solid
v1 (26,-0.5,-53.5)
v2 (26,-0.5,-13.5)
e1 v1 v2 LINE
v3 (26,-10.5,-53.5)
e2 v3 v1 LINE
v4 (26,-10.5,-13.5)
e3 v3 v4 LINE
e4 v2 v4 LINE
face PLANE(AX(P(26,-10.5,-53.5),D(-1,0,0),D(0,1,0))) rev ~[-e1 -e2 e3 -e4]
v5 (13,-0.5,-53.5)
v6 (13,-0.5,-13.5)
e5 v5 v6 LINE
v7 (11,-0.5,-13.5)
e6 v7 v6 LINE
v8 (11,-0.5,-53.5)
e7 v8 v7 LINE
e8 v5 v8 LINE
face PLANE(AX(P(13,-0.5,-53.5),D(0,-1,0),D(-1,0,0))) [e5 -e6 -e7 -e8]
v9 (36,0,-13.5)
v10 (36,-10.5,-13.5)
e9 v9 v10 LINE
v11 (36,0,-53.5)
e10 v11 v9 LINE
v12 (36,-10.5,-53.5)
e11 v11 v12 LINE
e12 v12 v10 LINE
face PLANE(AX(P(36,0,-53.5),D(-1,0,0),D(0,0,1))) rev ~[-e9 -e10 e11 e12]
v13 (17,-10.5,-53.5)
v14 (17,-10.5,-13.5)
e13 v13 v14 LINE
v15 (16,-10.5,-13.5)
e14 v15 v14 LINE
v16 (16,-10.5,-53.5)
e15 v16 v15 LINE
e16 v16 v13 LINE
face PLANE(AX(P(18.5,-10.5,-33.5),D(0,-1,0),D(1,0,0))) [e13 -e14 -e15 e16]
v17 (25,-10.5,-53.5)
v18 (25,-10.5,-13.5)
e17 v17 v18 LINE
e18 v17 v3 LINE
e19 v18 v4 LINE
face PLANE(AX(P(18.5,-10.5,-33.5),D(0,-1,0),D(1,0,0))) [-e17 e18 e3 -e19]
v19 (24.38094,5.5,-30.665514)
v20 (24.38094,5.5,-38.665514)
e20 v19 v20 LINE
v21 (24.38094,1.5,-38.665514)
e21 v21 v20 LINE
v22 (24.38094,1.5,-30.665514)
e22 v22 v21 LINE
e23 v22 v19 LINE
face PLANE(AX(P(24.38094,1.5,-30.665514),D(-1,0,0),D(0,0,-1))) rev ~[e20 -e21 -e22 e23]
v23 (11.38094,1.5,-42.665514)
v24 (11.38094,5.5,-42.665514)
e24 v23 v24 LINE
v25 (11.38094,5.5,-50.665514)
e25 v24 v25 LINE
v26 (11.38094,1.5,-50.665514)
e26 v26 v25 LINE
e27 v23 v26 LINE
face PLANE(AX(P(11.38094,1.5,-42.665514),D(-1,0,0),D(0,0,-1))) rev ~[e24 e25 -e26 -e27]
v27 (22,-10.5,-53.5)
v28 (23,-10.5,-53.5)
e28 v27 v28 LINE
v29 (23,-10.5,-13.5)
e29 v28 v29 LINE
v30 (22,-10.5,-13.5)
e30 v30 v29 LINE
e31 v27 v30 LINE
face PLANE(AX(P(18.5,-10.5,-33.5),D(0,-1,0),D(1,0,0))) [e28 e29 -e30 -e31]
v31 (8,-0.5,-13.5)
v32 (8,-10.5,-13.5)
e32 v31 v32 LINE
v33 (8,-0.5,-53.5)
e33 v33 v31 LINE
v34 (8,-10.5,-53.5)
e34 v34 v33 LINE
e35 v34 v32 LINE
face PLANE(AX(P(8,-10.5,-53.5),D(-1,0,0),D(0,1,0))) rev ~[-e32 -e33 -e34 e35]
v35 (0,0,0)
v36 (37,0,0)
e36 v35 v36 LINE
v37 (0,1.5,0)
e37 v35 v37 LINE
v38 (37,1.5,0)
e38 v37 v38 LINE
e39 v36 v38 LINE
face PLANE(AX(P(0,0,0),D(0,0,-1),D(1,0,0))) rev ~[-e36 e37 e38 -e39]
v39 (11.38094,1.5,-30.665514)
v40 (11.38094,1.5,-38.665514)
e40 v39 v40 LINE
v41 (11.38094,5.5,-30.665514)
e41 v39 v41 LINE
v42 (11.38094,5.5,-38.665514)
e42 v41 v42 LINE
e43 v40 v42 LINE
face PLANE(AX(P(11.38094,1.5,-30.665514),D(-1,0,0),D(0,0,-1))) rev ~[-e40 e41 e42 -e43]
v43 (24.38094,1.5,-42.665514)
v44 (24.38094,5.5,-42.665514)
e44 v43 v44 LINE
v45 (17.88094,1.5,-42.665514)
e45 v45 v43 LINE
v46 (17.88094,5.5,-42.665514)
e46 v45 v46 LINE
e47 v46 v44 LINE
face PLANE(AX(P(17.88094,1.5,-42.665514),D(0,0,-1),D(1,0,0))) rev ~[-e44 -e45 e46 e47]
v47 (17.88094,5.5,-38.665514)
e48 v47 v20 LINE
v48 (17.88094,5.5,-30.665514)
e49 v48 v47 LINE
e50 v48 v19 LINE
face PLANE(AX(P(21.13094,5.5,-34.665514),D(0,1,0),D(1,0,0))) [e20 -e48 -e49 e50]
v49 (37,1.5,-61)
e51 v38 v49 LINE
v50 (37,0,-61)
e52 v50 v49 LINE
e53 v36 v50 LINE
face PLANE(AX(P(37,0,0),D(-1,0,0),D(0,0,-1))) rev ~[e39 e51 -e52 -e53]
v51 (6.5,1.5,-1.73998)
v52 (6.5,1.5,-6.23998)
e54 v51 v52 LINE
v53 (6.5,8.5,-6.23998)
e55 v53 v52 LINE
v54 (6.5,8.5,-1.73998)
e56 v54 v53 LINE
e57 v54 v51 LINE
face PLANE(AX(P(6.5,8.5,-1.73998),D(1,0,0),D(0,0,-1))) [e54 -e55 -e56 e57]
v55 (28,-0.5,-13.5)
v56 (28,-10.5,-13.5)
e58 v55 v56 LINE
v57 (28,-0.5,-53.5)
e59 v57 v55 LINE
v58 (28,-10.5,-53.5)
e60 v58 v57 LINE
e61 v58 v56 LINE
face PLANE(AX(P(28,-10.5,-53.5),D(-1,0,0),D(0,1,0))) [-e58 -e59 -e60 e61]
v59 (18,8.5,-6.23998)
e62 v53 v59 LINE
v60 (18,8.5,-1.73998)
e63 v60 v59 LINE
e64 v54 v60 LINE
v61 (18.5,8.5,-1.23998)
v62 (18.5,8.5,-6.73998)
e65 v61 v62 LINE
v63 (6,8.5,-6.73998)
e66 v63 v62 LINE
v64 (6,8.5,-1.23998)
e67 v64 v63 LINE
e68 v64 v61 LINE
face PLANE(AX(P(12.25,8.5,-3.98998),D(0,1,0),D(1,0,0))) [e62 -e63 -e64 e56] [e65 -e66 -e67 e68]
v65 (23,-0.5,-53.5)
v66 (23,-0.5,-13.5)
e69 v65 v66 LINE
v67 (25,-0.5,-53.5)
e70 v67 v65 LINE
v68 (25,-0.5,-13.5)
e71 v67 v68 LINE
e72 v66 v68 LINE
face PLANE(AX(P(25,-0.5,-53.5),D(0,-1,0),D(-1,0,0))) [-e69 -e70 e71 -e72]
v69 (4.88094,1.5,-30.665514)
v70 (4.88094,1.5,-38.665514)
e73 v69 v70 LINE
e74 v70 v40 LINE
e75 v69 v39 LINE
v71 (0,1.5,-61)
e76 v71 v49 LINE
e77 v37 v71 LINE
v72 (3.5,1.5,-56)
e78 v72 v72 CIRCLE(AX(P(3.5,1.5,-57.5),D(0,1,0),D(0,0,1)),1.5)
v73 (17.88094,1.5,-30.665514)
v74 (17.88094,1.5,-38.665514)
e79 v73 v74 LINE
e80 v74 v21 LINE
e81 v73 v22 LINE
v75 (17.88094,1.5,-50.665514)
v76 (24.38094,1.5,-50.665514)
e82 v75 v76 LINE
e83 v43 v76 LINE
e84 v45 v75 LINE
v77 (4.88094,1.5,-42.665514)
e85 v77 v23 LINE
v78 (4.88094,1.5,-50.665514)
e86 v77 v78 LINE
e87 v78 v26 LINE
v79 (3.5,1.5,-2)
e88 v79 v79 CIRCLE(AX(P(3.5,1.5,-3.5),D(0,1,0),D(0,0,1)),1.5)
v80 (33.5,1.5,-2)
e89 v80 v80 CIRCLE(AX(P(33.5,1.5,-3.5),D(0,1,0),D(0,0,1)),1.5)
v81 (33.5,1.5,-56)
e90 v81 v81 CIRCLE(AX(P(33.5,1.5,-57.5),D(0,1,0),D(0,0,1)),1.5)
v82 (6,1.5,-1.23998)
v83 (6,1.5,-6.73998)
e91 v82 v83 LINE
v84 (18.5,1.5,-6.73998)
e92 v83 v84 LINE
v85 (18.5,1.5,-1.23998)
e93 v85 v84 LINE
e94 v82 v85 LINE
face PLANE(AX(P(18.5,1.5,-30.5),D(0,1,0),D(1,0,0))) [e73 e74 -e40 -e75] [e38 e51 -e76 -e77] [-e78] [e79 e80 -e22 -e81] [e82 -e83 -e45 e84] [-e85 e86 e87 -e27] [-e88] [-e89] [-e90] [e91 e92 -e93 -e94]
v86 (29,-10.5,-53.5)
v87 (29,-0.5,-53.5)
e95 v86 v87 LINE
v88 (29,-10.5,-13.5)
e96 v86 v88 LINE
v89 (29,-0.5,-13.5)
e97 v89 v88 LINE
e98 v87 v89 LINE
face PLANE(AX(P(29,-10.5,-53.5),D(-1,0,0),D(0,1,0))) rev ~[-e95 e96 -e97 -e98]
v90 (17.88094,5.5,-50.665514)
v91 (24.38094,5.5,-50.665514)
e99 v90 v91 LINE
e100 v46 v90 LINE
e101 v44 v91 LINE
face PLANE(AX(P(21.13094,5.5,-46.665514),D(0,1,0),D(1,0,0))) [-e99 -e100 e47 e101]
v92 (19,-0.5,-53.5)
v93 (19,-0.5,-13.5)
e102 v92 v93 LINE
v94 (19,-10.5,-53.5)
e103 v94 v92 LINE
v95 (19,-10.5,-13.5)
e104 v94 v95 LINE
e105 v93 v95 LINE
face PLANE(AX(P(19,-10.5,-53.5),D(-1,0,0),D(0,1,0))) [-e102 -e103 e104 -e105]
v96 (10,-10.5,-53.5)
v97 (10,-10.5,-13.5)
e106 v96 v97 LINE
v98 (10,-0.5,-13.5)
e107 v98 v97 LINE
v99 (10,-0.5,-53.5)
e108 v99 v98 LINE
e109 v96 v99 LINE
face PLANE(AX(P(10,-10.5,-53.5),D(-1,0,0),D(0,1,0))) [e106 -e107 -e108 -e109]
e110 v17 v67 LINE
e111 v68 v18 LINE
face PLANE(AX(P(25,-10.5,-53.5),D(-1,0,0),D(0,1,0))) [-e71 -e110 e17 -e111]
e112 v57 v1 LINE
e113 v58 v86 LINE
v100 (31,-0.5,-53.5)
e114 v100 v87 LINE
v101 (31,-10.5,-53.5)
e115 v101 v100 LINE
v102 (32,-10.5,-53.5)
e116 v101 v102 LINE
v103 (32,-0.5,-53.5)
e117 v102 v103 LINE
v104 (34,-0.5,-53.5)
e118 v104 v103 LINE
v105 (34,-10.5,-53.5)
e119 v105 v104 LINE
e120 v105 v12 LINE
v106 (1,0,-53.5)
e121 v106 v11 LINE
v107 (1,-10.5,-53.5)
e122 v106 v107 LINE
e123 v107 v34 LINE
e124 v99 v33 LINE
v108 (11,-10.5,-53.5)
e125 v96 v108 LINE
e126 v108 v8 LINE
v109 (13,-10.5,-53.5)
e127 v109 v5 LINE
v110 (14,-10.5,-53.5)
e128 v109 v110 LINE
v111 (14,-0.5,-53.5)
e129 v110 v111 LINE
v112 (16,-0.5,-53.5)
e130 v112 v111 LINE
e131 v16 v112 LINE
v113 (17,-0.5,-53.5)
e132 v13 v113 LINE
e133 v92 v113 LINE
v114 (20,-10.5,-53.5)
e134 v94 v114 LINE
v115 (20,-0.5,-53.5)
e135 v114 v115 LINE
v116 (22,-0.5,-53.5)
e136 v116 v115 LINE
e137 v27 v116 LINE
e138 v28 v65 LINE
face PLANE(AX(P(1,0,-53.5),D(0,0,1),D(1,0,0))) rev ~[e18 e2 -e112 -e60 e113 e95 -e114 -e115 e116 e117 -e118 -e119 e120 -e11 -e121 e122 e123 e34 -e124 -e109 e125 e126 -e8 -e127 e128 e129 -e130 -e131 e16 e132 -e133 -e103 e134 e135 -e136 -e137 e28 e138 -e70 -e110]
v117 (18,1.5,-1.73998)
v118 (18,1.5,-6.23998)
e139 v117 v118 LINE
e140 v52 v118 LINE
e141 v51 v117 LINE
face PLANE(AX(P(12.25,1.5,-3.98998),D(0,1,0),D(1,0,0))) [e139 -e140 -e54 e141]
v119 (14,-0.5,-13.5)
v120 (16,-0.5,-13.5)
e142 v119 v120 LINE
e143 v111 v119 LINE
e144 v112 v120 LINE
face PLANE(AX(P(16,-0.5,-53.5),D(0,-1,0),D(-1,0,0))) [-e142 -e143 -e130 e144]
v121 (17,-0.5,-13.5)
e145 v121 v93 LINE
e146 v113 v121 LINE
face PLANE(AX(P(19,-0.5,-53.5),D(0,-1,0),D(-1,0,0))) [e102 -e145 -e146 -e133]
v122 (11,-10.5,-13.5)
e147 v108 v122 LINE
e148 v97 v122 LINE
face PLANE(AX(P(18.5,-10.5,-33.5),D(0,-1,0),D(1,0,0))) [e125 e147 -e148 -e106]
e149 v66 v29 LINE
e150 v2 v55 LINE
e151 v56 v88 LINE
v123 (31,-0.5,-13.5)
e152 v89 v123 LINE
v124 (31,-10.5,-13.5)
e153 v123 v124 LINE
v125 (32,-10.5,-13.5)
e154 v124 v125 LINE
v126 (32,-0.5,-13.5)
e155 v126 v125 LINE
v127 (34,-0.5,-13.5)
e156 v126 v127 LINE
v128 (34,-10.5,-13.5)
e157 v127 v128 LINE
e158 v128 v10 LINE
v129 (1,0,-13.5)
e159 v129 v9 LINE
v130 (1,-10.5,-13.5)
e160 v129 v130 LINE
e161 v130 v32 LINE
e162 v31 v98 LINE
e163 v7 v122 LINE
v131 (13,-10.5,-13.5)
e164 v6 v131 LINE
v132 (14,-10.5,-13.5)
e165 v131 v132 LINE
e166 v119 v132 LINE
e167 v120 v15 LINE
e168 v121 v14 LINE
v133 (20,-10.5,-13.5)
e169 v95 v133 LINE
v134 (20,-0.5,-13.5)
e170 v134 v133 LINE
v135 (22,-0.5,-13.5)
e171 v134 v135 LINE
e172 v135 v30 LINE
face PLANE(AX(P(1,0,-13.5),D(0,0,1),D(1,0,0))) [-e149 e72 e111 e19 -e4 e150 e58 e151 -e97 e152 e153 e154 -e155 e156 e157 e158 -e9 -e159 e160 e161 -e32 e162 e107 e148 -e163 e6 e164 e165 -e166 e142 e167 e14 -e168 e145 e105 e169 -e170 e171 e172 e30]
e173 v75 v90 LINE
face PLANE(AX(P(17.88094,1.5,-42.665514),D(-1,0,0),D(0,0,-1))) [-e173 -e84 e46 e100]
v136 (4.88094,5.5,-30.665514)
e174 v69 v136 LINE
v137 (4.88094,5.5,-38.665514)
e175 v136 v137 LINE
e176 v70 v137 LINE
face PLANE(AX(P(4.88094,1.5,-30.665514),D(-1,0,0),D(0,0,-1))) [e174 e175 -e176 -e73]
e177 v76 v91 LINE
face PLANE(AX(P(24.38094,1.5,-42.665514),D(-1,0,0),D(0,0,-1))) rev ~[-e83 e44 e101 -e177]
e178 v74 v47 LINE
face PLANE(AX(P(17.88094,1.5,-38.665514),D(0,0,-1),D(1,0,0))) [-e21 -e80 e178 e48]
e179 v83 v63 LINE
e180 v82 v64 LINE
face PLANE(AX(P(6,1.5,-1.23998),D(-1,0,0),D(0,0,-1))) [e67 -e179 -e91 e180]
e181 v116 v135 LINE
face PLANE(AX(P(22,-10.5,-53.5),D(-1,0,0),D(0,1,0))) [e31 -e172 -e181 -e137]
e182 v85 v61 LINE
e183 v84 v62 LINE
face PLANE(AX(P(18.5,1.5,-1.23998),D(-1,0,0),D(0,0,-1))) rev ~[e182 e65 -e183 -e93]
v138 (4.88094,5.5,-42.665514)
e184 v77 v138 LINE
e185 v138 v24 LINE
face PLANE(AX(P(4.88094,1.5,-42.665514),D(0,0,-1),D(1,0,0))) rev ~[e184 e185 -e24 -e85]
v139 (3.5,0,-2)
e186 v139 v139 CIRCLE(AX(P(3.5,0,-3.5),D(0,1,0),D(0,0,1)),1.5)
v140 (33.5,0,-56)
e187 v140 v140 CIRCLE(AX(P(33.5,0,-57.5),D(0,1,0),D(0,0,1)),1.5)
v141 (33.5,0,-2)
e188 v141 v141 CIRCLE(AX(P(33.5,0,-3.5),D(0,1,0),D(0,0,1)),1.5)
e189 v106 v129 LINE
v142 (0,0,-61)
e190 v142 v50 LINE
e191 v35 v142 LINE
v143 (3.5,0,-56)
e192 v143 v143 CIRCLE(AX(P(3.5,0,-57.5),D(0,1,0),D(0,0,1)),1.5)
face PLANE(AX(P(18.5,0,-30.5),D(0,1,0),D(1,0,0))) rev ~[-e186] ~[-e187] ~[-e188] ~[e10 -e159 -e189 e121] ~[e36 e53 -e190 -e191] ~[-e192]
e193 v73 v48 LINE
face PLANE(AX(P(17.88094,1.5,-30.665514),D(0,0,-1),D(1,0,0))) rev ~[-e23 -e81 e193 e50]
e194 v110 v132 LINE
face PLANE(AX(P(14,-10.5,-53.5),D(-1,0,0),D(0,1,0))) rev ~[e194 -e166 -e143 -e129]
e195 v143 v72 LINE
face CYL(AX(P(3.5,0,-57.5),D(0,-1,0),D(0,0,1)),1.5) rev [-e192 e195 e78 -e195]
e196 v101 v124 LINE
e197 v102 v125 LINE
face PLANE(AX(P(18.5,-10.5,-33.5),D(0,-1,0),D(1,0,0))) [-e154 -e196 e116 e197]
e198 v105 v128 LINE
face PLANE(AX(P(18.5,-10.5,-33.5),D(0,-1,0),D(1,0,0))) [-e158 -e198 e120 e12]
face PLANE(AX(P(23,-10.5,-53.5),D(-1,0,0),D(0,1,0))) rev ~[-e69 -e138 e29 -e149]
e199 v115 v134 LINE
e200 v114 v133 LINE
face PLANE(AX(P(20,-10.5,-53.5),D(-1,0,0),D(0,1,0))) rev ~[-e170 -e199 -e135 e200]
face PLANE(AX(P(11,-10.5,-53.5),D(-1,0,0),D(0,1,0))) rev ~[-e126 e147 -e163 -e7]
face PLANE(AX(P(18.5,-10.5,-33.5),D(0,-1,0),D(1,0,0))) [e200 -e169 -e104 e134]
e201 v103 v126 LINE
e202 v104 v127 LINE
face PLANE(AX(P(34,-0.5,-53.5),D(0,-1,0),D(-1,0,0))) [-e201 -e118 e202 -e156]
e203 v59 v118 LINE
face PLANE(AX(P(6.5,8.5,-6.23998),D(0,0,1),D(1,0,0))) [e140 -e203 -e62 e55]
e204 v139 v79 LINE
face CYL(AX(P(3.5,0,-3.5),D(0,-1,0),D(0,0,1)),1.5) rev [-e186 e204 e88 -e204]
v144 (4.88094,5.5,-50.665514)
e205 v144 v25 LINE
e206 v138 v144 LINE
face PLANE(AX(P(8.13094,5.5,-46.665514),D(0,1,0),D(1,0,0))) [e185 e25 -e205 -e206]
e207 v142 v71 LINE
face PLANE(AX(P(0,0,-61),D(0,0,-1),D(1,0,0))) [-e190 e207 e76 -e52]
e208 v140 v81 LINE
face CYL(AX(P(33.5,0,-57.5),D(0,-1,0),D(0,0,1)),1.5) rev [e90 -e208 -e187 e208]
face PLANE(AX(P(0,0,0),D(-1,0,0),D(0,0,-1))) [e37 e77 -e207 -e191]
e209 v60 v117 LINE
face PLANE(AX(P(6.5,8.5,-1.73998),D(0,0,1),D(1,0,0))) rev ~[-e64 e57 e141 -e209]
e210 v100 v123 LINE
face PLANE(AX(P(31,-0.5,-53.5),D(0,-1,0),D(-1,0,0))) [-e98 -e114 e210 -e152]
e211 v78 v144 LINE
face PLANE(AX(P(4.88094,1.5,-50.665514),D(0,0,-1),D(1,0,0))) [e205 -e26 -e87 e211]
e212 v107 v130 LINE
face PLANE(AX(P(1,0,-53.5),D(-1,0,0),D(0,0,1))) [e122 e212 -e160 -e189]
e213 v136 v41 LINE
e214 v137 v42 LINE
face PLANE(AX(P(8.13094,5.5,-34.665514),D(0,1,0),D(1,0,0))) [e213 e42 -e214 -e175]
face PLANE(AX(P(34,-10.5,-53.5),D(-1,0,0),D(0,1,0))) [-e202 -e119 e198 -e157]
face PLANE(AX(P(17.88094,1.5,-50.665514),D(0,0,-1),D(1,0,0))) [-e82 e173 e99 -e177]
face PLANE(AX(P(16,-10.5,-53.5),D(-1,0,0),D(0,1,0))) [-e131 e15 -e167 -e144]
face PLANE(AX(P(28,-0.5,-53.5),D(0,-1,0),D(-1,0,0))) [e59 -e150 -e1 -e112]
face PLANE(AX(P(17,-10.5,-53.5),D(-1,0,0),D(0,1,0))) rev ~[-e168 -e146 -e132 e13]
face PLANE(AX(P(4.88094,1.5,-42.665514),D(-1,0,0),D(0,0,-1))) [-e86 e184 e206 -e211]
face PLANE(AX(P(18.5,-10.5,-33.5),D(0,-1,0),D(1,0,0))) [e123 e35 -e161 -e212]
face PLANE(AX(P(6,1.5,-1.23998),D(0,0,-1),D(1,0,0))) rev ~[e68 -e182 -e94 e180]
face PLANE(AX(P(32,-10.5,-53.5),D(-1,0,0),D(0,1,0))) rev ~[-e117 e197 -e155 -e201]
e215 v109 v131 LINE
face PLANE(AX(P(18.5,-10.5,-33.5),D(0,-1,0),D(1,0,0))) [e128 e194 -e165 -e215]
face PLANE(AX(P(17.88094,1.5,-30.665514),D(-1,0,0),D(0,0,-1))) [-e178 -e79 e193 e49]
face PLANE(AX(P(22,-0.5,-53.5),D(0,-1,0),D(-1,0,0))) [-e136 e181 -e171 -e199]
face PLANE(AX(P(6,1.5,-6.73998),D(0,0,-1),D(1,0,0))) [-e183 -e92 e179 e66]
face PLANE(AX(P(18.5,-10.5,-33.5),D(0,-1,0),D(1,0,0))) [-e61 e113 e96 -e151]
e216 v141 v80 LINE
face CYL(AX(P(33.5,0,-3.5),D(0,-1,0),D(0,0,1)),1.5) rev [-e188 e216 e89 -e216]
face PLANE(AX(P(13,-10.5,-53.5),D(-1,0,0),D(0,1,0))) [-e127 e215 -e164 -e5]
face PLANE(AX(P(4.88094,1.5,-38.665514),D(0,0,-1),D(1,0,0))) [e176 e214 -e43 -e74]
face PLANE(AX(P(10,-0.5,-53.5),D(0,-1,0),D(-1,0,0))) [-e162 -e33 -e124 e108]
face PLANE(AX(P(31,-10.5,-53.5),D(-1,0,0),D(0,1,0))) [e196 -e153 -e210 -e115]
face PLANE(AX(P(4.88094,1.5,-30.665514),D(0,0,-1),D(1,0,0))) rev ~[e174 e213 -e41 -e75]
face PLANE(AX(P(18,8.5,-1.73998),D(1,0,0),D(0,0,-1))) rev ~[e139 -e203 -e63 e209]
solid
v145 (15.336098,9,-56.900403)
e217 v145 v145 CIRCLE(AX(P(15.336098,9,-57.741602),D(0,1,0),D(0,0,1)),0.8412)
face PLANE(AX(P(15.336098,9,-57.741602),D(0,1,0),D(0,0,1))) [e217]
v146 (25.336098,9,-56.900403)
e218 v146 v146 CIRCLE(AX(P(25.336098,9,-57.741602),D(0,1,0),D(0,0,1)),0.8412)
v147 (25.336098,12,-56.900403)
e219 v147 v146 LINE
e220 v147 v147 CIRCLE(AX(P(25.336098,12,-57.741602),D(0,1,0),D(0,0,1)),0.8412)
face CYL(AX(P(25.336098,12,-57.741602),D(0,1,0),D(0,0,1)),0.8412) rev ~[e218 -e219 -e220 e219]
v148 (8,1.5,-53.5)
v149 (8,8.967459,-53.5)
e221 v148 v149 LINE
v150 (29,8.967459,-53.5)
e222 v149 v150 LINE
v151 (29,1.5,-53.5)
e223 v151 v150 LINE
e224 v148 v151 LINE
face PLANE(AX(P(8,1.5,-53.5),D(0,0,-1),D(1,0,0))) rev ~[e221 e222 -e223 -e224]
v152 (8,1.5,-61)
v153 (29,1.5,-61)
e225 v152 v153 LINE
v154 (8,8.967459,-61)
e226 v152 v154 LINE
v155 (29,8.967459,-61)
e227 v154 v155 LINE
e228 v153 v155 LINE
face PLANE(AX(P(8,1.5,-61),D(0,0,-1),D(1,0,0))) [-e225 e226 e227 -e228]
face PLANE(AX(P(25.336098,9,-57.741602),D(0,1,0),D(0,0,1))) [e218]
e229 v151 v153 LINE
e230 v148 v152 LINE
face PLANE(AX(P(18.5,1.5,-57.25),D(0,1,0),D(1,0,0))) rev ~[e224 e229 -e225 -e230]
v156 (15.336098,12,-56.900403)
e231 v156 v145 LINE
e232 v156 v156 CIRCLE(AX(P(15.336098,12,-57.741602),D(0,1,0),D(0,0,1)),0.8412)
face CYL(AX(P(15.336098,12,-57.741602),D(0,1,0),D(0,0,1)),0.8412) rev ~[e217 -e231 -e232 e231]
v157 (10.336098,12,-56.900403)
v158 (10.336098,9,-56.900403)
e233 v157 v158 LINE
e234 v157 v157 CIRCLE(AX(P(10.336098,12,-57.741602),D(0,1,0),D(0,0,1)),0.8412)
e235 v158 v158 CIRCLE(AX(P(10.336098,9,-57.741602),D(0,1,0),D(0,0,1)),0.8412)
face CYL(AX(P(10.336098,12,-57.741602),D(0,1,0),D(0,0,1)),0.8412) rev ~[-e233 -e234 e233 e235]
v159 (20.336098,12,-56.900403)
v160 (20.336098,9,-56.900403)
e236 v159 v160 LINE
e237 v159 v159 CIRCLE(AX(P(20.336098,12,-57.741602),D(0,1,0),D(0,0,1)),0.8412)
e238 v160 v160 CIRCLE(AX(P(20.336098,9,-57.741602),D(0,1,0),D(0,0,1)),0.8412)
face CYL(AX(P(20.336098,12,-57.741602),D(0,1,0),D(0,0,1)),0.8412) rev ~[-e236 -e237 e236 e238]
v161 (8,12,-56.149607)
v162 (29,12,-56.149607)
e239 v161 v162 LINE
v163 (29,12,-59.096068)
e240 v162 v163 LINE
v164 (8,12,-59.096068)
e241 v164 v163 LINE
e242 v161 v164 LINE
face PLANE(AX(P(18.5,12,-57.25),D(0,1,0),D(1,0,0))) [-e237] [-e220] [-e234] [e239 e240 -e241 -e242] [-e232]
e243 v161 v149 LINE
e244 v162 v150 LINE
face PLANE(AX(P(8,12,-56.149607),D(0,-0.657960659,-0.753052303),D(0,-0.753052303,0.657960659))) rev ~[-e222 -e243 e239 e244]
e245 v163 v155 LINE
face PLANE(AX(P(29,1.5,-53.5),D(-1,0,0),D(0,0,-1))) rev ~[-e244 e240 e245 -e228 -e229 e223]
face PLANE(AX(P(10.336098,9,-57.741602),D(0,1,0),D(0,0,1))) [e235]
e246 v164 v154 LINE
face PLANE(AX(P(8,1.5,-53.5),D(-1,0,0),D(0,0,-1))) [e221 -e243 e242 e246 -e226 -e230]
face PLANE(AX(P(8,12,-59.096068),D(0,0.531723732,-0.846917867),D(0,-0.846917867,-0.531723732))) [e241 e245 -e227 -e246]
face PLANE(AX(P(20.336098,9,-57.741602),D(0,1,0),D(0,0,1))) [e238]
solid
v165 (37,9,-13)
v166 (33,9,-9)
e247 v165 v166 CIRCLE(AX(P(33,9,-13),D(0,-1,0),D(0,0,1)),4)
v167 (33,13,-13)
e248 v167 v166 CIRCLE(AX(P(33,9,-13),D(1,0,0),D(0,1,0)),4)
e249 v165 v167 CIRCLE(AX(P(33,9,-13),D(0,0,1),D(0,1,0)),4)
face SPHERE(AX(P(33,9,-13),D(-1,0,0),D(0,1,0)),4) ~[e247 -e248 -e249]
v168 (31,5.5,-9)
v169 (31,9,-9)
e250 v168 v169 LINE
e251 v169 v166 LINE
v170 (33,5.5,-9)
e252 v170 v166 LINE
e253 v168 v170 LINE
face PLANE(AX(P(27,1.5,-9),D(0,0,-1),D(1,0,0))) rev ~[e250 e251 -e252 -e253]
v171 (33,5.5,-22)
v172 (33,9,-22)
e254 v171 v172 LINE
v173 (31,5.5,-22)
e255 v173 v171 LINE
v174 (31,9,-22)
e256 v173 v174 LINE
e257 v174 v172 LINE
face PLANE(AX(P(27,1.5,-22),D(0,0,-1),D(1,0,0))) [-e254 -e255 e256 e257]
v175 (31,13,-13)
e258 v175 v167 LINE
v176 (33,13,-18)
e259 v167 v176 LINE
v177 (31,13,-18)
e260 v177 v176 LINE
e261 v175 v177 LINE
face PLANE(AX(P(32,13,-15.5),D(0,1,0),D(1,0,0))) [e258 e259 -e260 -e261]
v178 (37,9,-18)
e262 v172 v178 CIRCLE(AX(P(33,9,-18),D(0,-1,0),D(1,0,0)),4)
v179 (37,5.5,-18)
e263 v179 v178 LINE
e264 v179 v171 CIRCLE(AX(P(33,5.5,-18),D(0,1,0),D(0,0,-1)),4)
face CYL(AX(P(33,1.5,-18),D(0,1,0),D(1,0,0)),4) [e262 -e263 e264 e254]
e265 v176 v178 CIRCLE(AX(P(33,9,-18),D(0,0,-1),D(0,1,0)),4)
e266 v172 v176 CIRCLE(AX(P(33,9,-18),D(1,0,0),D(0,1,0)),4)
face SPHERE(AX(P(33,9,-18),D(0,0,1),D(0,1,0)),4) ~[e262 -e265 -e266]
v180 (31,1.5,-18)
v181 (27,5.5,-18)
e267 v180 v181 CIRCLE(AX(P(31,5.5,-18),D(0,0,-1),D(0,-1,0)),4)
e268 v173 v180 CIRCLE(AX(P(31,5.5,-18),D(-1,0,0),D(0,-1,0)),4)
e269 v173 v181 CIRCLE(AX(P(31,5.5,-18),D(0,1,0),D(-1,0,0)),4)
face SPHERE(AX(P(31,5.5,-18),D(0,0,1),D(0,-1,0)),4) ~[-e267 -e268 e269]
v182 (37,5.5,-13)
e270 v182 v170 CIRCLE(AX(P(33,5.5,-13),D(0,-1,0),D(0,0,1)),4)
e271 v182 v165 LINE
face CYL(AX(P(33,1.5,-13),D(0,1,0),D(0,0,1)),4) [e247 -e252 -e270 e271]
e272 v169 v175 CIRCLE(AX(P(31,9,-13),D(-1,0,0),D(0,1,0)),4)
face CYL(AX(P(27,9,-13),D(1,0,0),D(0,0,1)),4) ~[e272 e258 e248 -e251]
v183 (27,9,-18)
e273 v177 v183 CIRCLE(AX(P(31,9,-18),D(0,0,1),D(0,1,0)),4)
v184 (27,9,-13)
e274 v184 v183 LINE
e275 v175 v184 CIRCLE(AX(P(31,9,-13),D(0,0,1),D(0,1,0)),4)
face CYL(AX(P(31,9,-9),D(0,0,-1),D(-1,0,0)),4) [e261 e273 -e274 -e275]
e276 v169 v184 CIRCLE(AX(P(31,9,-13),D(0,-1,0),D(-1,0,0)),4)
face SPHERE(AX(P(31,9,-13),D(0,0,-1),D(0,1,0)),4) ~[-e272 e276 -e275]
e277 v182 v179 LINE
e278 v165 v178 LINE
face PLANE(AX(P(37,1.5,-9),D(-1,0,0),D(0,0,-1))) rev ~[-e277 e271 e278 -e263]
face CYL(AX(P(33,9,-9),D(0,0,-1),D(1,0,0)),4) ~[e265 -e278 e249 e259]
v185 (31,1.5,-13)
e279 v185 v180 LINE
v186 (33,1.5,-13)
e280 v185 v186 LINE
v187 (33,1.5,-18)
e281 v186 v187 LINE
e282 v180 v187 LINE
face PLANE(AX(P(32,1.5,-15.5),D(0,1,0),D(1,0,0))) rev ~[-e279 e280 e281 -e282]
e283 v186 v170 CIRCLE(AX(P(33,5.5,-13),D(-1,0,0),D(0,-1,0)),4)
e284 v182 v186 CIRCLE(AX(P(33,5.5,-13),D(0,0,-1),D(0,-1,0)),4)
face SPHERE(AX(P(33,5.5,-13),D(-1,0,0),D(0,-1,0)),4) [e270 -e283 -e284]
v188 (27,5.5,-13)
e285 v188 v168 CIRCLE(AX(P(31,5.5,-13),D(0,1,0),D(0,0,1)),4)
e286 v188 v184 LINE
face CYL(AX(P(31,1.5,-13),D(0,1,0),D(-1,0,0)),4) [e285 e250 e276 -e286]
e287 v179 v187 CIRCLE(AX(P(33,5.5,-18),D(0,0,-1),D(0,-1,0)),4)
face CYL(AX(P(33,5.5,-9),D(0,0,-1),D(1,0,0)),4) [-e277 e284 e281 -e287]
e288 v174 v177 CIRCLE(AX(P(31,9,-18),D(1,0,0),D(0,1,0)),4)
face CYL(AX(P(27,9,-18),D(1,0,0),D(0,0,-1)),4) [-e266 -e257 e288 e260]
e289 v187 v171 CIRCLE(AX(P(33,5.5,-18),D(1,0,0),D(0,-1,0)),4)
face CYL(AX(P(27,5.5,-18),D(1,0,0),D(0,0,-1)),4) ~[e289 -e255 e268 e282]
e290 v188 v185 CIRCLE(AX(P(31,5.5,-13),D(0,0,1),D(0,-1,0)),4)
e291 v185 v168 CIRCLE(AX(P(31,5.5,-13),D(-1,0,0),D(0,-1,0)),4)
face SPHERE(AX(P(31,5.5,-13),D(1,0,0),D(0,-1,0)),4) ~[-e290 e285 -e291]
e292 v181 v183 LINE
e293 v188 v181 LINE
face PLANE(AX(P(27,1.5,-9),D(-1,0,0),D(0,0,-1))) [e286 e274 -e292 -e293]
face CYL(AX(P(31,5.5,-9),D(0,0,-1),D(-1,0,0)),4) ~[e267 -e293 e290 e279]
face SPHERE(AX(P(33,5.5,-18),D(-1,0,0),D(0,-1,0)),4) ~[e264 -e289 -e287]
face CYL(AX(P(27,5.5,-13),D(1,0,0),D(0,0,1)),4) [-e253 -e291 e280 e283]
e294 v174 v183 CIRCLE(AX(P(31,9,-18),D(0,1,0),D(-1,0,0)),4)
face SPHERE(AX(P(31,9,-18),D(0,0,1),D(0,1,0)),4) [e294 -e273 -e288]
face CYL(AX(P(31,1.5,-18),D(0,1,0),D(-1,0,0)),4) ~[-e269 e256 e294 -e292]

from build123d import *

# Parameters (mm, degrees)
SKETCH_1_W          = 37
SKETCH_1_H          = 61
SKETCH_1_R          = 1.5
EXTRUDE_1_DEPTH     = 1.5
SKETCH_2_W          = 35
SKETCH_2_H          = 40
EXTRUDE_2_DEPTH     = 10.5
SKETCH_3_W          = 12.5
SKETCH_3_H          = 5.5
EXTRUDE_3_DEPTH     = 7
SKETCH_4_W          = 21
SKETCH_4_H          = 7.5
EXTRUDE_4_DEPTH     = 10.5
SKETCH_5_W          = 10
SKETCH_5_H          = 13
EXTRUDE_5_DEPTH     = 11.5
SKETCH_6_W          = 11.5
SKETCH_6_H          = 4.5
CUT_EXTRUDE_1_DEPTH = 7
CUT_EXTRUDE_3_DEPTH = 21
SKETCH_9_R          = 0.84119958
CUT_EXTRUDE_4_DEPTH = 3
FILLET_2_R          = 4
SKETCH_10_W         = 6.5
SKETCH_10_H         = 8
EXTRUDE_6_DEPTH     = 4
SKETCH_11_W         = 2
SKETCH_11_H         = 10
CUT_EXTRUDE_5_DEPTH = 67.334380226


with BuildPart() as part:
    # 草图1 → 凸台-拉伸1 (new body)
    with BuildSketch(Plane(origin=(0, 0, 0), x_dir=(1, 0, 0), z_dir=(0, 1, 0))):
        with Locations((18.5, 30.5)):
            Rectangle(SKETCH_1_W, SKETCH_1_H)
        with Locations(Location((3.5, 57.5, 0), (0, 0, 270))):
            Circle(SKETCH_1_R, mode=Mode.SUBTRACT)
        with Locations(Location((33.5, 57.5, 0), (0, 0, 270))):
            Circle(SKETCH_1_R, mode=Mode.SUBTRACT)
        with Locations(Location((3.5, 3.5, 0), (0, 0, 270))):
            Circle(SKETCH_1_R, mode=Mode.SUBTRACT)
        with Locations(Location((33.5, 3.5, 0), (0, 0, 270))):
            Circle(SKETCH_1_R, mode=Mode.SUBTRACT)
    extrude(amount=EXTRUDE_1_DEPTH)

    # 草图2 → 凸台-拉伸2 (add)
    with BuildSketch(Plane.XZ):
        with Locations((18.5, -33.5)):
            Rectangle(SKETCH_2_W, SKETCH_2_H)
    extrude(amount=EXTRUDE_2_DEPTH)

    # 草图3 → 凸台-拉伸3 (add)
    with BuildSketch(Plane(origin=(0, 1.5, 0), x_dir=(1, 0, 0), z_dir=(0, 1, 0))):
        with Locations((12.25, 3.989979593)):
            Rectangle(SKETCH_3_W, SKETCH_3_H)
    extrude(amount=EXTRUDE_3_DEPTH)

    # 草图6 → 切除-拉伸1 (cut)
    with BuildSketch(Plane(origin=(0, 8.5, 0), x_dir=(1, 0, 0), z_dir=(0, 1, 0))):
        with Locations((12.25, 3.989979593)):
            Rectangle(SKETCH_6_W, SKETCH_6_H)
    extrude(amount=-CUT_EXTRUDE_1_DEPTH, mode=Mode.SUBTRACT)

    # 草图10 → 凸台-拉伸6 (add)
    with BuildSketch(Plane(origin=(0, 1.5, 0), x_dir=(1, 0, 0), z_dir=(0, 1, 0))):
        with Locations((8.130940151, 46.665513772)):
            Rectangle(SKETCH_10_W, SKETCH_10_H)
        with Locations((8.130940151, 34.665513772)):
            Rectangle(SKETCH_10_W, SKETCH_10_H)
        with Locations((21.130940151, 34.665513772)):
            Rectangle(SKETCH_10_W, SKETCH_10_H)
        with Locations((21.130940151, 46.665513772)):
            Rectangle(SKETCH_10_W, SKETCH_10_H)
    extrude(amount=EXTRUDE_6_DEPTH)

    # 草图11 → 切除-拉伸5 (cut, through all)
    with BuildSketch(Plane(origin=(0, 0, -53.5), x_dir=(-1, 0, 0), z_dir=(0, 0, -1))):
        with Locations((-33, -5.5)):
            Rectangle(SKETCH_11_W, SKETCH_11_H)
        with Locations((-30, -5.5)):
            Rectangle(SKETCH_11_W, SKETCH_11_H)
        with Locations((-27, -5.5)):
            Rectangle(SKETCH_11_W, SKETCH_11_H)
        with Locations((-24, -5.5)):
            Rectangle(SKETCH_11_W, SKETCH_11_H)
        with Locations((-21, -5.5)):
            Rectangle(SKETCH_11_W, SKETCH_11_H)
        with Locations((-18, -5.5)):
            Rectangle(SKETCH_11_W, SKETCH_11_H)
        with Locations((-15, -5.5)):
            Rectangle(SKETCH_11_W, SKETCH_11_H)
        with Locations((-12, -5.5)):
            Rectangle(SKETCH_11_W, SKETCH_11_H)
        with Locations((-9, -5.5)):
            Rectangle(SKETCH_11_W, SKETCH_11_H)
    extrude(amount=-CUT_EXTRUDE_5_DEPTH, mode=Mode.SUBTRACT)


with BuildPart() as body_2:
    # 草图4 → 凸台-拉伸4 (new body)
    with BuildSketch(Plane(origin=(0, 1.5, 0), x_dir=(1, 0, 0), z_dir=(0, 1, 0))):
        with Locations((18.5, 57.25)):
            Rectangle(SKETCH_4_W, SKETCH_4_H)
    extrude(amount=EXTRUDE_4_DEPTH)

    # 草图8 → 切除-拉伸3 (cut)
    with BuildSketch(Plane.ZY.offset(-8)):
        Polygon((-59.096067897, 12), (-61, 8.967458814), (-61, 12), align=None)
        Polygon((-56.149607192, 12), (-53.5, 8.967458814), (-53.5, 12), align=None)
    extrude(amount=-CUT_EXTRUDE_3_DEPTH, mode=Mode.SUBTRACT)

    # 草图9 → 切除-拉伸4 (cut)
    with BuildSketch(Plane(origin=(0, 12, 0), x_dir=(1, 0, 0), z_dir=(0, 1, 0))):
        with Locations(Location((25.336097721, 57.741602474, 0), (0, 0, 270))):
            Circle(SKETCH_9_R)
        with Locations(Location((20.336097721, 57.741602474, 0), (0, 0, 270))):
            Circle(SKETCH_9_R)
        with Locations(Location((15.336097721, 57.741602474, 0), (0, 0, 270))):
            Circle(SKETCH_9_R)
        with Locations(Location((10.336097721, 57.741602474, 0), (0, 0, 270))):
            Circle(SKETCH_9_R)
    extrude(amount=-CUT_EXTRUDE_4_DEPTH, mode=Mode.SUBTRACT)


with BuildPart() as body_3:
    # 草图5 → 凸台-拉伸5 (new body)
    with BuildSketch(Plane(origin=(0, 1.5, 0), x_dir=(1, 0, 0), z_dir=(0, 1, 0))):
        with Locations((32, 15.5)):
            Rectangle(SKETCH_5_W, SKETCH_5_H)
    extrude(amount=EXTRUDE_5_DEPTH)

    # 圆角2
    fillet_2_edges = [body_3.edges().sort_by_distance(p)[0] for p in [
        (27, 13, -15.5),
        (32, 13, -9),
        (37, 13, -15.5),
        (32, 1.5, -9),
        (27, 1.5, -15.5),
        (32, 1.5, -22),
        (37, 1.5, -15.5),
        (32, 13, -22),
        (37, 7.25, -9),
        (27, 7.25, -9),
        (27, 7.25, -22),
        (37, 7.25, -22),
    ]]
    fillet(fillet_2_edges, radius=FILLET_2_R)


solid = Compound([part.part, body_2.part, body_3.part])
